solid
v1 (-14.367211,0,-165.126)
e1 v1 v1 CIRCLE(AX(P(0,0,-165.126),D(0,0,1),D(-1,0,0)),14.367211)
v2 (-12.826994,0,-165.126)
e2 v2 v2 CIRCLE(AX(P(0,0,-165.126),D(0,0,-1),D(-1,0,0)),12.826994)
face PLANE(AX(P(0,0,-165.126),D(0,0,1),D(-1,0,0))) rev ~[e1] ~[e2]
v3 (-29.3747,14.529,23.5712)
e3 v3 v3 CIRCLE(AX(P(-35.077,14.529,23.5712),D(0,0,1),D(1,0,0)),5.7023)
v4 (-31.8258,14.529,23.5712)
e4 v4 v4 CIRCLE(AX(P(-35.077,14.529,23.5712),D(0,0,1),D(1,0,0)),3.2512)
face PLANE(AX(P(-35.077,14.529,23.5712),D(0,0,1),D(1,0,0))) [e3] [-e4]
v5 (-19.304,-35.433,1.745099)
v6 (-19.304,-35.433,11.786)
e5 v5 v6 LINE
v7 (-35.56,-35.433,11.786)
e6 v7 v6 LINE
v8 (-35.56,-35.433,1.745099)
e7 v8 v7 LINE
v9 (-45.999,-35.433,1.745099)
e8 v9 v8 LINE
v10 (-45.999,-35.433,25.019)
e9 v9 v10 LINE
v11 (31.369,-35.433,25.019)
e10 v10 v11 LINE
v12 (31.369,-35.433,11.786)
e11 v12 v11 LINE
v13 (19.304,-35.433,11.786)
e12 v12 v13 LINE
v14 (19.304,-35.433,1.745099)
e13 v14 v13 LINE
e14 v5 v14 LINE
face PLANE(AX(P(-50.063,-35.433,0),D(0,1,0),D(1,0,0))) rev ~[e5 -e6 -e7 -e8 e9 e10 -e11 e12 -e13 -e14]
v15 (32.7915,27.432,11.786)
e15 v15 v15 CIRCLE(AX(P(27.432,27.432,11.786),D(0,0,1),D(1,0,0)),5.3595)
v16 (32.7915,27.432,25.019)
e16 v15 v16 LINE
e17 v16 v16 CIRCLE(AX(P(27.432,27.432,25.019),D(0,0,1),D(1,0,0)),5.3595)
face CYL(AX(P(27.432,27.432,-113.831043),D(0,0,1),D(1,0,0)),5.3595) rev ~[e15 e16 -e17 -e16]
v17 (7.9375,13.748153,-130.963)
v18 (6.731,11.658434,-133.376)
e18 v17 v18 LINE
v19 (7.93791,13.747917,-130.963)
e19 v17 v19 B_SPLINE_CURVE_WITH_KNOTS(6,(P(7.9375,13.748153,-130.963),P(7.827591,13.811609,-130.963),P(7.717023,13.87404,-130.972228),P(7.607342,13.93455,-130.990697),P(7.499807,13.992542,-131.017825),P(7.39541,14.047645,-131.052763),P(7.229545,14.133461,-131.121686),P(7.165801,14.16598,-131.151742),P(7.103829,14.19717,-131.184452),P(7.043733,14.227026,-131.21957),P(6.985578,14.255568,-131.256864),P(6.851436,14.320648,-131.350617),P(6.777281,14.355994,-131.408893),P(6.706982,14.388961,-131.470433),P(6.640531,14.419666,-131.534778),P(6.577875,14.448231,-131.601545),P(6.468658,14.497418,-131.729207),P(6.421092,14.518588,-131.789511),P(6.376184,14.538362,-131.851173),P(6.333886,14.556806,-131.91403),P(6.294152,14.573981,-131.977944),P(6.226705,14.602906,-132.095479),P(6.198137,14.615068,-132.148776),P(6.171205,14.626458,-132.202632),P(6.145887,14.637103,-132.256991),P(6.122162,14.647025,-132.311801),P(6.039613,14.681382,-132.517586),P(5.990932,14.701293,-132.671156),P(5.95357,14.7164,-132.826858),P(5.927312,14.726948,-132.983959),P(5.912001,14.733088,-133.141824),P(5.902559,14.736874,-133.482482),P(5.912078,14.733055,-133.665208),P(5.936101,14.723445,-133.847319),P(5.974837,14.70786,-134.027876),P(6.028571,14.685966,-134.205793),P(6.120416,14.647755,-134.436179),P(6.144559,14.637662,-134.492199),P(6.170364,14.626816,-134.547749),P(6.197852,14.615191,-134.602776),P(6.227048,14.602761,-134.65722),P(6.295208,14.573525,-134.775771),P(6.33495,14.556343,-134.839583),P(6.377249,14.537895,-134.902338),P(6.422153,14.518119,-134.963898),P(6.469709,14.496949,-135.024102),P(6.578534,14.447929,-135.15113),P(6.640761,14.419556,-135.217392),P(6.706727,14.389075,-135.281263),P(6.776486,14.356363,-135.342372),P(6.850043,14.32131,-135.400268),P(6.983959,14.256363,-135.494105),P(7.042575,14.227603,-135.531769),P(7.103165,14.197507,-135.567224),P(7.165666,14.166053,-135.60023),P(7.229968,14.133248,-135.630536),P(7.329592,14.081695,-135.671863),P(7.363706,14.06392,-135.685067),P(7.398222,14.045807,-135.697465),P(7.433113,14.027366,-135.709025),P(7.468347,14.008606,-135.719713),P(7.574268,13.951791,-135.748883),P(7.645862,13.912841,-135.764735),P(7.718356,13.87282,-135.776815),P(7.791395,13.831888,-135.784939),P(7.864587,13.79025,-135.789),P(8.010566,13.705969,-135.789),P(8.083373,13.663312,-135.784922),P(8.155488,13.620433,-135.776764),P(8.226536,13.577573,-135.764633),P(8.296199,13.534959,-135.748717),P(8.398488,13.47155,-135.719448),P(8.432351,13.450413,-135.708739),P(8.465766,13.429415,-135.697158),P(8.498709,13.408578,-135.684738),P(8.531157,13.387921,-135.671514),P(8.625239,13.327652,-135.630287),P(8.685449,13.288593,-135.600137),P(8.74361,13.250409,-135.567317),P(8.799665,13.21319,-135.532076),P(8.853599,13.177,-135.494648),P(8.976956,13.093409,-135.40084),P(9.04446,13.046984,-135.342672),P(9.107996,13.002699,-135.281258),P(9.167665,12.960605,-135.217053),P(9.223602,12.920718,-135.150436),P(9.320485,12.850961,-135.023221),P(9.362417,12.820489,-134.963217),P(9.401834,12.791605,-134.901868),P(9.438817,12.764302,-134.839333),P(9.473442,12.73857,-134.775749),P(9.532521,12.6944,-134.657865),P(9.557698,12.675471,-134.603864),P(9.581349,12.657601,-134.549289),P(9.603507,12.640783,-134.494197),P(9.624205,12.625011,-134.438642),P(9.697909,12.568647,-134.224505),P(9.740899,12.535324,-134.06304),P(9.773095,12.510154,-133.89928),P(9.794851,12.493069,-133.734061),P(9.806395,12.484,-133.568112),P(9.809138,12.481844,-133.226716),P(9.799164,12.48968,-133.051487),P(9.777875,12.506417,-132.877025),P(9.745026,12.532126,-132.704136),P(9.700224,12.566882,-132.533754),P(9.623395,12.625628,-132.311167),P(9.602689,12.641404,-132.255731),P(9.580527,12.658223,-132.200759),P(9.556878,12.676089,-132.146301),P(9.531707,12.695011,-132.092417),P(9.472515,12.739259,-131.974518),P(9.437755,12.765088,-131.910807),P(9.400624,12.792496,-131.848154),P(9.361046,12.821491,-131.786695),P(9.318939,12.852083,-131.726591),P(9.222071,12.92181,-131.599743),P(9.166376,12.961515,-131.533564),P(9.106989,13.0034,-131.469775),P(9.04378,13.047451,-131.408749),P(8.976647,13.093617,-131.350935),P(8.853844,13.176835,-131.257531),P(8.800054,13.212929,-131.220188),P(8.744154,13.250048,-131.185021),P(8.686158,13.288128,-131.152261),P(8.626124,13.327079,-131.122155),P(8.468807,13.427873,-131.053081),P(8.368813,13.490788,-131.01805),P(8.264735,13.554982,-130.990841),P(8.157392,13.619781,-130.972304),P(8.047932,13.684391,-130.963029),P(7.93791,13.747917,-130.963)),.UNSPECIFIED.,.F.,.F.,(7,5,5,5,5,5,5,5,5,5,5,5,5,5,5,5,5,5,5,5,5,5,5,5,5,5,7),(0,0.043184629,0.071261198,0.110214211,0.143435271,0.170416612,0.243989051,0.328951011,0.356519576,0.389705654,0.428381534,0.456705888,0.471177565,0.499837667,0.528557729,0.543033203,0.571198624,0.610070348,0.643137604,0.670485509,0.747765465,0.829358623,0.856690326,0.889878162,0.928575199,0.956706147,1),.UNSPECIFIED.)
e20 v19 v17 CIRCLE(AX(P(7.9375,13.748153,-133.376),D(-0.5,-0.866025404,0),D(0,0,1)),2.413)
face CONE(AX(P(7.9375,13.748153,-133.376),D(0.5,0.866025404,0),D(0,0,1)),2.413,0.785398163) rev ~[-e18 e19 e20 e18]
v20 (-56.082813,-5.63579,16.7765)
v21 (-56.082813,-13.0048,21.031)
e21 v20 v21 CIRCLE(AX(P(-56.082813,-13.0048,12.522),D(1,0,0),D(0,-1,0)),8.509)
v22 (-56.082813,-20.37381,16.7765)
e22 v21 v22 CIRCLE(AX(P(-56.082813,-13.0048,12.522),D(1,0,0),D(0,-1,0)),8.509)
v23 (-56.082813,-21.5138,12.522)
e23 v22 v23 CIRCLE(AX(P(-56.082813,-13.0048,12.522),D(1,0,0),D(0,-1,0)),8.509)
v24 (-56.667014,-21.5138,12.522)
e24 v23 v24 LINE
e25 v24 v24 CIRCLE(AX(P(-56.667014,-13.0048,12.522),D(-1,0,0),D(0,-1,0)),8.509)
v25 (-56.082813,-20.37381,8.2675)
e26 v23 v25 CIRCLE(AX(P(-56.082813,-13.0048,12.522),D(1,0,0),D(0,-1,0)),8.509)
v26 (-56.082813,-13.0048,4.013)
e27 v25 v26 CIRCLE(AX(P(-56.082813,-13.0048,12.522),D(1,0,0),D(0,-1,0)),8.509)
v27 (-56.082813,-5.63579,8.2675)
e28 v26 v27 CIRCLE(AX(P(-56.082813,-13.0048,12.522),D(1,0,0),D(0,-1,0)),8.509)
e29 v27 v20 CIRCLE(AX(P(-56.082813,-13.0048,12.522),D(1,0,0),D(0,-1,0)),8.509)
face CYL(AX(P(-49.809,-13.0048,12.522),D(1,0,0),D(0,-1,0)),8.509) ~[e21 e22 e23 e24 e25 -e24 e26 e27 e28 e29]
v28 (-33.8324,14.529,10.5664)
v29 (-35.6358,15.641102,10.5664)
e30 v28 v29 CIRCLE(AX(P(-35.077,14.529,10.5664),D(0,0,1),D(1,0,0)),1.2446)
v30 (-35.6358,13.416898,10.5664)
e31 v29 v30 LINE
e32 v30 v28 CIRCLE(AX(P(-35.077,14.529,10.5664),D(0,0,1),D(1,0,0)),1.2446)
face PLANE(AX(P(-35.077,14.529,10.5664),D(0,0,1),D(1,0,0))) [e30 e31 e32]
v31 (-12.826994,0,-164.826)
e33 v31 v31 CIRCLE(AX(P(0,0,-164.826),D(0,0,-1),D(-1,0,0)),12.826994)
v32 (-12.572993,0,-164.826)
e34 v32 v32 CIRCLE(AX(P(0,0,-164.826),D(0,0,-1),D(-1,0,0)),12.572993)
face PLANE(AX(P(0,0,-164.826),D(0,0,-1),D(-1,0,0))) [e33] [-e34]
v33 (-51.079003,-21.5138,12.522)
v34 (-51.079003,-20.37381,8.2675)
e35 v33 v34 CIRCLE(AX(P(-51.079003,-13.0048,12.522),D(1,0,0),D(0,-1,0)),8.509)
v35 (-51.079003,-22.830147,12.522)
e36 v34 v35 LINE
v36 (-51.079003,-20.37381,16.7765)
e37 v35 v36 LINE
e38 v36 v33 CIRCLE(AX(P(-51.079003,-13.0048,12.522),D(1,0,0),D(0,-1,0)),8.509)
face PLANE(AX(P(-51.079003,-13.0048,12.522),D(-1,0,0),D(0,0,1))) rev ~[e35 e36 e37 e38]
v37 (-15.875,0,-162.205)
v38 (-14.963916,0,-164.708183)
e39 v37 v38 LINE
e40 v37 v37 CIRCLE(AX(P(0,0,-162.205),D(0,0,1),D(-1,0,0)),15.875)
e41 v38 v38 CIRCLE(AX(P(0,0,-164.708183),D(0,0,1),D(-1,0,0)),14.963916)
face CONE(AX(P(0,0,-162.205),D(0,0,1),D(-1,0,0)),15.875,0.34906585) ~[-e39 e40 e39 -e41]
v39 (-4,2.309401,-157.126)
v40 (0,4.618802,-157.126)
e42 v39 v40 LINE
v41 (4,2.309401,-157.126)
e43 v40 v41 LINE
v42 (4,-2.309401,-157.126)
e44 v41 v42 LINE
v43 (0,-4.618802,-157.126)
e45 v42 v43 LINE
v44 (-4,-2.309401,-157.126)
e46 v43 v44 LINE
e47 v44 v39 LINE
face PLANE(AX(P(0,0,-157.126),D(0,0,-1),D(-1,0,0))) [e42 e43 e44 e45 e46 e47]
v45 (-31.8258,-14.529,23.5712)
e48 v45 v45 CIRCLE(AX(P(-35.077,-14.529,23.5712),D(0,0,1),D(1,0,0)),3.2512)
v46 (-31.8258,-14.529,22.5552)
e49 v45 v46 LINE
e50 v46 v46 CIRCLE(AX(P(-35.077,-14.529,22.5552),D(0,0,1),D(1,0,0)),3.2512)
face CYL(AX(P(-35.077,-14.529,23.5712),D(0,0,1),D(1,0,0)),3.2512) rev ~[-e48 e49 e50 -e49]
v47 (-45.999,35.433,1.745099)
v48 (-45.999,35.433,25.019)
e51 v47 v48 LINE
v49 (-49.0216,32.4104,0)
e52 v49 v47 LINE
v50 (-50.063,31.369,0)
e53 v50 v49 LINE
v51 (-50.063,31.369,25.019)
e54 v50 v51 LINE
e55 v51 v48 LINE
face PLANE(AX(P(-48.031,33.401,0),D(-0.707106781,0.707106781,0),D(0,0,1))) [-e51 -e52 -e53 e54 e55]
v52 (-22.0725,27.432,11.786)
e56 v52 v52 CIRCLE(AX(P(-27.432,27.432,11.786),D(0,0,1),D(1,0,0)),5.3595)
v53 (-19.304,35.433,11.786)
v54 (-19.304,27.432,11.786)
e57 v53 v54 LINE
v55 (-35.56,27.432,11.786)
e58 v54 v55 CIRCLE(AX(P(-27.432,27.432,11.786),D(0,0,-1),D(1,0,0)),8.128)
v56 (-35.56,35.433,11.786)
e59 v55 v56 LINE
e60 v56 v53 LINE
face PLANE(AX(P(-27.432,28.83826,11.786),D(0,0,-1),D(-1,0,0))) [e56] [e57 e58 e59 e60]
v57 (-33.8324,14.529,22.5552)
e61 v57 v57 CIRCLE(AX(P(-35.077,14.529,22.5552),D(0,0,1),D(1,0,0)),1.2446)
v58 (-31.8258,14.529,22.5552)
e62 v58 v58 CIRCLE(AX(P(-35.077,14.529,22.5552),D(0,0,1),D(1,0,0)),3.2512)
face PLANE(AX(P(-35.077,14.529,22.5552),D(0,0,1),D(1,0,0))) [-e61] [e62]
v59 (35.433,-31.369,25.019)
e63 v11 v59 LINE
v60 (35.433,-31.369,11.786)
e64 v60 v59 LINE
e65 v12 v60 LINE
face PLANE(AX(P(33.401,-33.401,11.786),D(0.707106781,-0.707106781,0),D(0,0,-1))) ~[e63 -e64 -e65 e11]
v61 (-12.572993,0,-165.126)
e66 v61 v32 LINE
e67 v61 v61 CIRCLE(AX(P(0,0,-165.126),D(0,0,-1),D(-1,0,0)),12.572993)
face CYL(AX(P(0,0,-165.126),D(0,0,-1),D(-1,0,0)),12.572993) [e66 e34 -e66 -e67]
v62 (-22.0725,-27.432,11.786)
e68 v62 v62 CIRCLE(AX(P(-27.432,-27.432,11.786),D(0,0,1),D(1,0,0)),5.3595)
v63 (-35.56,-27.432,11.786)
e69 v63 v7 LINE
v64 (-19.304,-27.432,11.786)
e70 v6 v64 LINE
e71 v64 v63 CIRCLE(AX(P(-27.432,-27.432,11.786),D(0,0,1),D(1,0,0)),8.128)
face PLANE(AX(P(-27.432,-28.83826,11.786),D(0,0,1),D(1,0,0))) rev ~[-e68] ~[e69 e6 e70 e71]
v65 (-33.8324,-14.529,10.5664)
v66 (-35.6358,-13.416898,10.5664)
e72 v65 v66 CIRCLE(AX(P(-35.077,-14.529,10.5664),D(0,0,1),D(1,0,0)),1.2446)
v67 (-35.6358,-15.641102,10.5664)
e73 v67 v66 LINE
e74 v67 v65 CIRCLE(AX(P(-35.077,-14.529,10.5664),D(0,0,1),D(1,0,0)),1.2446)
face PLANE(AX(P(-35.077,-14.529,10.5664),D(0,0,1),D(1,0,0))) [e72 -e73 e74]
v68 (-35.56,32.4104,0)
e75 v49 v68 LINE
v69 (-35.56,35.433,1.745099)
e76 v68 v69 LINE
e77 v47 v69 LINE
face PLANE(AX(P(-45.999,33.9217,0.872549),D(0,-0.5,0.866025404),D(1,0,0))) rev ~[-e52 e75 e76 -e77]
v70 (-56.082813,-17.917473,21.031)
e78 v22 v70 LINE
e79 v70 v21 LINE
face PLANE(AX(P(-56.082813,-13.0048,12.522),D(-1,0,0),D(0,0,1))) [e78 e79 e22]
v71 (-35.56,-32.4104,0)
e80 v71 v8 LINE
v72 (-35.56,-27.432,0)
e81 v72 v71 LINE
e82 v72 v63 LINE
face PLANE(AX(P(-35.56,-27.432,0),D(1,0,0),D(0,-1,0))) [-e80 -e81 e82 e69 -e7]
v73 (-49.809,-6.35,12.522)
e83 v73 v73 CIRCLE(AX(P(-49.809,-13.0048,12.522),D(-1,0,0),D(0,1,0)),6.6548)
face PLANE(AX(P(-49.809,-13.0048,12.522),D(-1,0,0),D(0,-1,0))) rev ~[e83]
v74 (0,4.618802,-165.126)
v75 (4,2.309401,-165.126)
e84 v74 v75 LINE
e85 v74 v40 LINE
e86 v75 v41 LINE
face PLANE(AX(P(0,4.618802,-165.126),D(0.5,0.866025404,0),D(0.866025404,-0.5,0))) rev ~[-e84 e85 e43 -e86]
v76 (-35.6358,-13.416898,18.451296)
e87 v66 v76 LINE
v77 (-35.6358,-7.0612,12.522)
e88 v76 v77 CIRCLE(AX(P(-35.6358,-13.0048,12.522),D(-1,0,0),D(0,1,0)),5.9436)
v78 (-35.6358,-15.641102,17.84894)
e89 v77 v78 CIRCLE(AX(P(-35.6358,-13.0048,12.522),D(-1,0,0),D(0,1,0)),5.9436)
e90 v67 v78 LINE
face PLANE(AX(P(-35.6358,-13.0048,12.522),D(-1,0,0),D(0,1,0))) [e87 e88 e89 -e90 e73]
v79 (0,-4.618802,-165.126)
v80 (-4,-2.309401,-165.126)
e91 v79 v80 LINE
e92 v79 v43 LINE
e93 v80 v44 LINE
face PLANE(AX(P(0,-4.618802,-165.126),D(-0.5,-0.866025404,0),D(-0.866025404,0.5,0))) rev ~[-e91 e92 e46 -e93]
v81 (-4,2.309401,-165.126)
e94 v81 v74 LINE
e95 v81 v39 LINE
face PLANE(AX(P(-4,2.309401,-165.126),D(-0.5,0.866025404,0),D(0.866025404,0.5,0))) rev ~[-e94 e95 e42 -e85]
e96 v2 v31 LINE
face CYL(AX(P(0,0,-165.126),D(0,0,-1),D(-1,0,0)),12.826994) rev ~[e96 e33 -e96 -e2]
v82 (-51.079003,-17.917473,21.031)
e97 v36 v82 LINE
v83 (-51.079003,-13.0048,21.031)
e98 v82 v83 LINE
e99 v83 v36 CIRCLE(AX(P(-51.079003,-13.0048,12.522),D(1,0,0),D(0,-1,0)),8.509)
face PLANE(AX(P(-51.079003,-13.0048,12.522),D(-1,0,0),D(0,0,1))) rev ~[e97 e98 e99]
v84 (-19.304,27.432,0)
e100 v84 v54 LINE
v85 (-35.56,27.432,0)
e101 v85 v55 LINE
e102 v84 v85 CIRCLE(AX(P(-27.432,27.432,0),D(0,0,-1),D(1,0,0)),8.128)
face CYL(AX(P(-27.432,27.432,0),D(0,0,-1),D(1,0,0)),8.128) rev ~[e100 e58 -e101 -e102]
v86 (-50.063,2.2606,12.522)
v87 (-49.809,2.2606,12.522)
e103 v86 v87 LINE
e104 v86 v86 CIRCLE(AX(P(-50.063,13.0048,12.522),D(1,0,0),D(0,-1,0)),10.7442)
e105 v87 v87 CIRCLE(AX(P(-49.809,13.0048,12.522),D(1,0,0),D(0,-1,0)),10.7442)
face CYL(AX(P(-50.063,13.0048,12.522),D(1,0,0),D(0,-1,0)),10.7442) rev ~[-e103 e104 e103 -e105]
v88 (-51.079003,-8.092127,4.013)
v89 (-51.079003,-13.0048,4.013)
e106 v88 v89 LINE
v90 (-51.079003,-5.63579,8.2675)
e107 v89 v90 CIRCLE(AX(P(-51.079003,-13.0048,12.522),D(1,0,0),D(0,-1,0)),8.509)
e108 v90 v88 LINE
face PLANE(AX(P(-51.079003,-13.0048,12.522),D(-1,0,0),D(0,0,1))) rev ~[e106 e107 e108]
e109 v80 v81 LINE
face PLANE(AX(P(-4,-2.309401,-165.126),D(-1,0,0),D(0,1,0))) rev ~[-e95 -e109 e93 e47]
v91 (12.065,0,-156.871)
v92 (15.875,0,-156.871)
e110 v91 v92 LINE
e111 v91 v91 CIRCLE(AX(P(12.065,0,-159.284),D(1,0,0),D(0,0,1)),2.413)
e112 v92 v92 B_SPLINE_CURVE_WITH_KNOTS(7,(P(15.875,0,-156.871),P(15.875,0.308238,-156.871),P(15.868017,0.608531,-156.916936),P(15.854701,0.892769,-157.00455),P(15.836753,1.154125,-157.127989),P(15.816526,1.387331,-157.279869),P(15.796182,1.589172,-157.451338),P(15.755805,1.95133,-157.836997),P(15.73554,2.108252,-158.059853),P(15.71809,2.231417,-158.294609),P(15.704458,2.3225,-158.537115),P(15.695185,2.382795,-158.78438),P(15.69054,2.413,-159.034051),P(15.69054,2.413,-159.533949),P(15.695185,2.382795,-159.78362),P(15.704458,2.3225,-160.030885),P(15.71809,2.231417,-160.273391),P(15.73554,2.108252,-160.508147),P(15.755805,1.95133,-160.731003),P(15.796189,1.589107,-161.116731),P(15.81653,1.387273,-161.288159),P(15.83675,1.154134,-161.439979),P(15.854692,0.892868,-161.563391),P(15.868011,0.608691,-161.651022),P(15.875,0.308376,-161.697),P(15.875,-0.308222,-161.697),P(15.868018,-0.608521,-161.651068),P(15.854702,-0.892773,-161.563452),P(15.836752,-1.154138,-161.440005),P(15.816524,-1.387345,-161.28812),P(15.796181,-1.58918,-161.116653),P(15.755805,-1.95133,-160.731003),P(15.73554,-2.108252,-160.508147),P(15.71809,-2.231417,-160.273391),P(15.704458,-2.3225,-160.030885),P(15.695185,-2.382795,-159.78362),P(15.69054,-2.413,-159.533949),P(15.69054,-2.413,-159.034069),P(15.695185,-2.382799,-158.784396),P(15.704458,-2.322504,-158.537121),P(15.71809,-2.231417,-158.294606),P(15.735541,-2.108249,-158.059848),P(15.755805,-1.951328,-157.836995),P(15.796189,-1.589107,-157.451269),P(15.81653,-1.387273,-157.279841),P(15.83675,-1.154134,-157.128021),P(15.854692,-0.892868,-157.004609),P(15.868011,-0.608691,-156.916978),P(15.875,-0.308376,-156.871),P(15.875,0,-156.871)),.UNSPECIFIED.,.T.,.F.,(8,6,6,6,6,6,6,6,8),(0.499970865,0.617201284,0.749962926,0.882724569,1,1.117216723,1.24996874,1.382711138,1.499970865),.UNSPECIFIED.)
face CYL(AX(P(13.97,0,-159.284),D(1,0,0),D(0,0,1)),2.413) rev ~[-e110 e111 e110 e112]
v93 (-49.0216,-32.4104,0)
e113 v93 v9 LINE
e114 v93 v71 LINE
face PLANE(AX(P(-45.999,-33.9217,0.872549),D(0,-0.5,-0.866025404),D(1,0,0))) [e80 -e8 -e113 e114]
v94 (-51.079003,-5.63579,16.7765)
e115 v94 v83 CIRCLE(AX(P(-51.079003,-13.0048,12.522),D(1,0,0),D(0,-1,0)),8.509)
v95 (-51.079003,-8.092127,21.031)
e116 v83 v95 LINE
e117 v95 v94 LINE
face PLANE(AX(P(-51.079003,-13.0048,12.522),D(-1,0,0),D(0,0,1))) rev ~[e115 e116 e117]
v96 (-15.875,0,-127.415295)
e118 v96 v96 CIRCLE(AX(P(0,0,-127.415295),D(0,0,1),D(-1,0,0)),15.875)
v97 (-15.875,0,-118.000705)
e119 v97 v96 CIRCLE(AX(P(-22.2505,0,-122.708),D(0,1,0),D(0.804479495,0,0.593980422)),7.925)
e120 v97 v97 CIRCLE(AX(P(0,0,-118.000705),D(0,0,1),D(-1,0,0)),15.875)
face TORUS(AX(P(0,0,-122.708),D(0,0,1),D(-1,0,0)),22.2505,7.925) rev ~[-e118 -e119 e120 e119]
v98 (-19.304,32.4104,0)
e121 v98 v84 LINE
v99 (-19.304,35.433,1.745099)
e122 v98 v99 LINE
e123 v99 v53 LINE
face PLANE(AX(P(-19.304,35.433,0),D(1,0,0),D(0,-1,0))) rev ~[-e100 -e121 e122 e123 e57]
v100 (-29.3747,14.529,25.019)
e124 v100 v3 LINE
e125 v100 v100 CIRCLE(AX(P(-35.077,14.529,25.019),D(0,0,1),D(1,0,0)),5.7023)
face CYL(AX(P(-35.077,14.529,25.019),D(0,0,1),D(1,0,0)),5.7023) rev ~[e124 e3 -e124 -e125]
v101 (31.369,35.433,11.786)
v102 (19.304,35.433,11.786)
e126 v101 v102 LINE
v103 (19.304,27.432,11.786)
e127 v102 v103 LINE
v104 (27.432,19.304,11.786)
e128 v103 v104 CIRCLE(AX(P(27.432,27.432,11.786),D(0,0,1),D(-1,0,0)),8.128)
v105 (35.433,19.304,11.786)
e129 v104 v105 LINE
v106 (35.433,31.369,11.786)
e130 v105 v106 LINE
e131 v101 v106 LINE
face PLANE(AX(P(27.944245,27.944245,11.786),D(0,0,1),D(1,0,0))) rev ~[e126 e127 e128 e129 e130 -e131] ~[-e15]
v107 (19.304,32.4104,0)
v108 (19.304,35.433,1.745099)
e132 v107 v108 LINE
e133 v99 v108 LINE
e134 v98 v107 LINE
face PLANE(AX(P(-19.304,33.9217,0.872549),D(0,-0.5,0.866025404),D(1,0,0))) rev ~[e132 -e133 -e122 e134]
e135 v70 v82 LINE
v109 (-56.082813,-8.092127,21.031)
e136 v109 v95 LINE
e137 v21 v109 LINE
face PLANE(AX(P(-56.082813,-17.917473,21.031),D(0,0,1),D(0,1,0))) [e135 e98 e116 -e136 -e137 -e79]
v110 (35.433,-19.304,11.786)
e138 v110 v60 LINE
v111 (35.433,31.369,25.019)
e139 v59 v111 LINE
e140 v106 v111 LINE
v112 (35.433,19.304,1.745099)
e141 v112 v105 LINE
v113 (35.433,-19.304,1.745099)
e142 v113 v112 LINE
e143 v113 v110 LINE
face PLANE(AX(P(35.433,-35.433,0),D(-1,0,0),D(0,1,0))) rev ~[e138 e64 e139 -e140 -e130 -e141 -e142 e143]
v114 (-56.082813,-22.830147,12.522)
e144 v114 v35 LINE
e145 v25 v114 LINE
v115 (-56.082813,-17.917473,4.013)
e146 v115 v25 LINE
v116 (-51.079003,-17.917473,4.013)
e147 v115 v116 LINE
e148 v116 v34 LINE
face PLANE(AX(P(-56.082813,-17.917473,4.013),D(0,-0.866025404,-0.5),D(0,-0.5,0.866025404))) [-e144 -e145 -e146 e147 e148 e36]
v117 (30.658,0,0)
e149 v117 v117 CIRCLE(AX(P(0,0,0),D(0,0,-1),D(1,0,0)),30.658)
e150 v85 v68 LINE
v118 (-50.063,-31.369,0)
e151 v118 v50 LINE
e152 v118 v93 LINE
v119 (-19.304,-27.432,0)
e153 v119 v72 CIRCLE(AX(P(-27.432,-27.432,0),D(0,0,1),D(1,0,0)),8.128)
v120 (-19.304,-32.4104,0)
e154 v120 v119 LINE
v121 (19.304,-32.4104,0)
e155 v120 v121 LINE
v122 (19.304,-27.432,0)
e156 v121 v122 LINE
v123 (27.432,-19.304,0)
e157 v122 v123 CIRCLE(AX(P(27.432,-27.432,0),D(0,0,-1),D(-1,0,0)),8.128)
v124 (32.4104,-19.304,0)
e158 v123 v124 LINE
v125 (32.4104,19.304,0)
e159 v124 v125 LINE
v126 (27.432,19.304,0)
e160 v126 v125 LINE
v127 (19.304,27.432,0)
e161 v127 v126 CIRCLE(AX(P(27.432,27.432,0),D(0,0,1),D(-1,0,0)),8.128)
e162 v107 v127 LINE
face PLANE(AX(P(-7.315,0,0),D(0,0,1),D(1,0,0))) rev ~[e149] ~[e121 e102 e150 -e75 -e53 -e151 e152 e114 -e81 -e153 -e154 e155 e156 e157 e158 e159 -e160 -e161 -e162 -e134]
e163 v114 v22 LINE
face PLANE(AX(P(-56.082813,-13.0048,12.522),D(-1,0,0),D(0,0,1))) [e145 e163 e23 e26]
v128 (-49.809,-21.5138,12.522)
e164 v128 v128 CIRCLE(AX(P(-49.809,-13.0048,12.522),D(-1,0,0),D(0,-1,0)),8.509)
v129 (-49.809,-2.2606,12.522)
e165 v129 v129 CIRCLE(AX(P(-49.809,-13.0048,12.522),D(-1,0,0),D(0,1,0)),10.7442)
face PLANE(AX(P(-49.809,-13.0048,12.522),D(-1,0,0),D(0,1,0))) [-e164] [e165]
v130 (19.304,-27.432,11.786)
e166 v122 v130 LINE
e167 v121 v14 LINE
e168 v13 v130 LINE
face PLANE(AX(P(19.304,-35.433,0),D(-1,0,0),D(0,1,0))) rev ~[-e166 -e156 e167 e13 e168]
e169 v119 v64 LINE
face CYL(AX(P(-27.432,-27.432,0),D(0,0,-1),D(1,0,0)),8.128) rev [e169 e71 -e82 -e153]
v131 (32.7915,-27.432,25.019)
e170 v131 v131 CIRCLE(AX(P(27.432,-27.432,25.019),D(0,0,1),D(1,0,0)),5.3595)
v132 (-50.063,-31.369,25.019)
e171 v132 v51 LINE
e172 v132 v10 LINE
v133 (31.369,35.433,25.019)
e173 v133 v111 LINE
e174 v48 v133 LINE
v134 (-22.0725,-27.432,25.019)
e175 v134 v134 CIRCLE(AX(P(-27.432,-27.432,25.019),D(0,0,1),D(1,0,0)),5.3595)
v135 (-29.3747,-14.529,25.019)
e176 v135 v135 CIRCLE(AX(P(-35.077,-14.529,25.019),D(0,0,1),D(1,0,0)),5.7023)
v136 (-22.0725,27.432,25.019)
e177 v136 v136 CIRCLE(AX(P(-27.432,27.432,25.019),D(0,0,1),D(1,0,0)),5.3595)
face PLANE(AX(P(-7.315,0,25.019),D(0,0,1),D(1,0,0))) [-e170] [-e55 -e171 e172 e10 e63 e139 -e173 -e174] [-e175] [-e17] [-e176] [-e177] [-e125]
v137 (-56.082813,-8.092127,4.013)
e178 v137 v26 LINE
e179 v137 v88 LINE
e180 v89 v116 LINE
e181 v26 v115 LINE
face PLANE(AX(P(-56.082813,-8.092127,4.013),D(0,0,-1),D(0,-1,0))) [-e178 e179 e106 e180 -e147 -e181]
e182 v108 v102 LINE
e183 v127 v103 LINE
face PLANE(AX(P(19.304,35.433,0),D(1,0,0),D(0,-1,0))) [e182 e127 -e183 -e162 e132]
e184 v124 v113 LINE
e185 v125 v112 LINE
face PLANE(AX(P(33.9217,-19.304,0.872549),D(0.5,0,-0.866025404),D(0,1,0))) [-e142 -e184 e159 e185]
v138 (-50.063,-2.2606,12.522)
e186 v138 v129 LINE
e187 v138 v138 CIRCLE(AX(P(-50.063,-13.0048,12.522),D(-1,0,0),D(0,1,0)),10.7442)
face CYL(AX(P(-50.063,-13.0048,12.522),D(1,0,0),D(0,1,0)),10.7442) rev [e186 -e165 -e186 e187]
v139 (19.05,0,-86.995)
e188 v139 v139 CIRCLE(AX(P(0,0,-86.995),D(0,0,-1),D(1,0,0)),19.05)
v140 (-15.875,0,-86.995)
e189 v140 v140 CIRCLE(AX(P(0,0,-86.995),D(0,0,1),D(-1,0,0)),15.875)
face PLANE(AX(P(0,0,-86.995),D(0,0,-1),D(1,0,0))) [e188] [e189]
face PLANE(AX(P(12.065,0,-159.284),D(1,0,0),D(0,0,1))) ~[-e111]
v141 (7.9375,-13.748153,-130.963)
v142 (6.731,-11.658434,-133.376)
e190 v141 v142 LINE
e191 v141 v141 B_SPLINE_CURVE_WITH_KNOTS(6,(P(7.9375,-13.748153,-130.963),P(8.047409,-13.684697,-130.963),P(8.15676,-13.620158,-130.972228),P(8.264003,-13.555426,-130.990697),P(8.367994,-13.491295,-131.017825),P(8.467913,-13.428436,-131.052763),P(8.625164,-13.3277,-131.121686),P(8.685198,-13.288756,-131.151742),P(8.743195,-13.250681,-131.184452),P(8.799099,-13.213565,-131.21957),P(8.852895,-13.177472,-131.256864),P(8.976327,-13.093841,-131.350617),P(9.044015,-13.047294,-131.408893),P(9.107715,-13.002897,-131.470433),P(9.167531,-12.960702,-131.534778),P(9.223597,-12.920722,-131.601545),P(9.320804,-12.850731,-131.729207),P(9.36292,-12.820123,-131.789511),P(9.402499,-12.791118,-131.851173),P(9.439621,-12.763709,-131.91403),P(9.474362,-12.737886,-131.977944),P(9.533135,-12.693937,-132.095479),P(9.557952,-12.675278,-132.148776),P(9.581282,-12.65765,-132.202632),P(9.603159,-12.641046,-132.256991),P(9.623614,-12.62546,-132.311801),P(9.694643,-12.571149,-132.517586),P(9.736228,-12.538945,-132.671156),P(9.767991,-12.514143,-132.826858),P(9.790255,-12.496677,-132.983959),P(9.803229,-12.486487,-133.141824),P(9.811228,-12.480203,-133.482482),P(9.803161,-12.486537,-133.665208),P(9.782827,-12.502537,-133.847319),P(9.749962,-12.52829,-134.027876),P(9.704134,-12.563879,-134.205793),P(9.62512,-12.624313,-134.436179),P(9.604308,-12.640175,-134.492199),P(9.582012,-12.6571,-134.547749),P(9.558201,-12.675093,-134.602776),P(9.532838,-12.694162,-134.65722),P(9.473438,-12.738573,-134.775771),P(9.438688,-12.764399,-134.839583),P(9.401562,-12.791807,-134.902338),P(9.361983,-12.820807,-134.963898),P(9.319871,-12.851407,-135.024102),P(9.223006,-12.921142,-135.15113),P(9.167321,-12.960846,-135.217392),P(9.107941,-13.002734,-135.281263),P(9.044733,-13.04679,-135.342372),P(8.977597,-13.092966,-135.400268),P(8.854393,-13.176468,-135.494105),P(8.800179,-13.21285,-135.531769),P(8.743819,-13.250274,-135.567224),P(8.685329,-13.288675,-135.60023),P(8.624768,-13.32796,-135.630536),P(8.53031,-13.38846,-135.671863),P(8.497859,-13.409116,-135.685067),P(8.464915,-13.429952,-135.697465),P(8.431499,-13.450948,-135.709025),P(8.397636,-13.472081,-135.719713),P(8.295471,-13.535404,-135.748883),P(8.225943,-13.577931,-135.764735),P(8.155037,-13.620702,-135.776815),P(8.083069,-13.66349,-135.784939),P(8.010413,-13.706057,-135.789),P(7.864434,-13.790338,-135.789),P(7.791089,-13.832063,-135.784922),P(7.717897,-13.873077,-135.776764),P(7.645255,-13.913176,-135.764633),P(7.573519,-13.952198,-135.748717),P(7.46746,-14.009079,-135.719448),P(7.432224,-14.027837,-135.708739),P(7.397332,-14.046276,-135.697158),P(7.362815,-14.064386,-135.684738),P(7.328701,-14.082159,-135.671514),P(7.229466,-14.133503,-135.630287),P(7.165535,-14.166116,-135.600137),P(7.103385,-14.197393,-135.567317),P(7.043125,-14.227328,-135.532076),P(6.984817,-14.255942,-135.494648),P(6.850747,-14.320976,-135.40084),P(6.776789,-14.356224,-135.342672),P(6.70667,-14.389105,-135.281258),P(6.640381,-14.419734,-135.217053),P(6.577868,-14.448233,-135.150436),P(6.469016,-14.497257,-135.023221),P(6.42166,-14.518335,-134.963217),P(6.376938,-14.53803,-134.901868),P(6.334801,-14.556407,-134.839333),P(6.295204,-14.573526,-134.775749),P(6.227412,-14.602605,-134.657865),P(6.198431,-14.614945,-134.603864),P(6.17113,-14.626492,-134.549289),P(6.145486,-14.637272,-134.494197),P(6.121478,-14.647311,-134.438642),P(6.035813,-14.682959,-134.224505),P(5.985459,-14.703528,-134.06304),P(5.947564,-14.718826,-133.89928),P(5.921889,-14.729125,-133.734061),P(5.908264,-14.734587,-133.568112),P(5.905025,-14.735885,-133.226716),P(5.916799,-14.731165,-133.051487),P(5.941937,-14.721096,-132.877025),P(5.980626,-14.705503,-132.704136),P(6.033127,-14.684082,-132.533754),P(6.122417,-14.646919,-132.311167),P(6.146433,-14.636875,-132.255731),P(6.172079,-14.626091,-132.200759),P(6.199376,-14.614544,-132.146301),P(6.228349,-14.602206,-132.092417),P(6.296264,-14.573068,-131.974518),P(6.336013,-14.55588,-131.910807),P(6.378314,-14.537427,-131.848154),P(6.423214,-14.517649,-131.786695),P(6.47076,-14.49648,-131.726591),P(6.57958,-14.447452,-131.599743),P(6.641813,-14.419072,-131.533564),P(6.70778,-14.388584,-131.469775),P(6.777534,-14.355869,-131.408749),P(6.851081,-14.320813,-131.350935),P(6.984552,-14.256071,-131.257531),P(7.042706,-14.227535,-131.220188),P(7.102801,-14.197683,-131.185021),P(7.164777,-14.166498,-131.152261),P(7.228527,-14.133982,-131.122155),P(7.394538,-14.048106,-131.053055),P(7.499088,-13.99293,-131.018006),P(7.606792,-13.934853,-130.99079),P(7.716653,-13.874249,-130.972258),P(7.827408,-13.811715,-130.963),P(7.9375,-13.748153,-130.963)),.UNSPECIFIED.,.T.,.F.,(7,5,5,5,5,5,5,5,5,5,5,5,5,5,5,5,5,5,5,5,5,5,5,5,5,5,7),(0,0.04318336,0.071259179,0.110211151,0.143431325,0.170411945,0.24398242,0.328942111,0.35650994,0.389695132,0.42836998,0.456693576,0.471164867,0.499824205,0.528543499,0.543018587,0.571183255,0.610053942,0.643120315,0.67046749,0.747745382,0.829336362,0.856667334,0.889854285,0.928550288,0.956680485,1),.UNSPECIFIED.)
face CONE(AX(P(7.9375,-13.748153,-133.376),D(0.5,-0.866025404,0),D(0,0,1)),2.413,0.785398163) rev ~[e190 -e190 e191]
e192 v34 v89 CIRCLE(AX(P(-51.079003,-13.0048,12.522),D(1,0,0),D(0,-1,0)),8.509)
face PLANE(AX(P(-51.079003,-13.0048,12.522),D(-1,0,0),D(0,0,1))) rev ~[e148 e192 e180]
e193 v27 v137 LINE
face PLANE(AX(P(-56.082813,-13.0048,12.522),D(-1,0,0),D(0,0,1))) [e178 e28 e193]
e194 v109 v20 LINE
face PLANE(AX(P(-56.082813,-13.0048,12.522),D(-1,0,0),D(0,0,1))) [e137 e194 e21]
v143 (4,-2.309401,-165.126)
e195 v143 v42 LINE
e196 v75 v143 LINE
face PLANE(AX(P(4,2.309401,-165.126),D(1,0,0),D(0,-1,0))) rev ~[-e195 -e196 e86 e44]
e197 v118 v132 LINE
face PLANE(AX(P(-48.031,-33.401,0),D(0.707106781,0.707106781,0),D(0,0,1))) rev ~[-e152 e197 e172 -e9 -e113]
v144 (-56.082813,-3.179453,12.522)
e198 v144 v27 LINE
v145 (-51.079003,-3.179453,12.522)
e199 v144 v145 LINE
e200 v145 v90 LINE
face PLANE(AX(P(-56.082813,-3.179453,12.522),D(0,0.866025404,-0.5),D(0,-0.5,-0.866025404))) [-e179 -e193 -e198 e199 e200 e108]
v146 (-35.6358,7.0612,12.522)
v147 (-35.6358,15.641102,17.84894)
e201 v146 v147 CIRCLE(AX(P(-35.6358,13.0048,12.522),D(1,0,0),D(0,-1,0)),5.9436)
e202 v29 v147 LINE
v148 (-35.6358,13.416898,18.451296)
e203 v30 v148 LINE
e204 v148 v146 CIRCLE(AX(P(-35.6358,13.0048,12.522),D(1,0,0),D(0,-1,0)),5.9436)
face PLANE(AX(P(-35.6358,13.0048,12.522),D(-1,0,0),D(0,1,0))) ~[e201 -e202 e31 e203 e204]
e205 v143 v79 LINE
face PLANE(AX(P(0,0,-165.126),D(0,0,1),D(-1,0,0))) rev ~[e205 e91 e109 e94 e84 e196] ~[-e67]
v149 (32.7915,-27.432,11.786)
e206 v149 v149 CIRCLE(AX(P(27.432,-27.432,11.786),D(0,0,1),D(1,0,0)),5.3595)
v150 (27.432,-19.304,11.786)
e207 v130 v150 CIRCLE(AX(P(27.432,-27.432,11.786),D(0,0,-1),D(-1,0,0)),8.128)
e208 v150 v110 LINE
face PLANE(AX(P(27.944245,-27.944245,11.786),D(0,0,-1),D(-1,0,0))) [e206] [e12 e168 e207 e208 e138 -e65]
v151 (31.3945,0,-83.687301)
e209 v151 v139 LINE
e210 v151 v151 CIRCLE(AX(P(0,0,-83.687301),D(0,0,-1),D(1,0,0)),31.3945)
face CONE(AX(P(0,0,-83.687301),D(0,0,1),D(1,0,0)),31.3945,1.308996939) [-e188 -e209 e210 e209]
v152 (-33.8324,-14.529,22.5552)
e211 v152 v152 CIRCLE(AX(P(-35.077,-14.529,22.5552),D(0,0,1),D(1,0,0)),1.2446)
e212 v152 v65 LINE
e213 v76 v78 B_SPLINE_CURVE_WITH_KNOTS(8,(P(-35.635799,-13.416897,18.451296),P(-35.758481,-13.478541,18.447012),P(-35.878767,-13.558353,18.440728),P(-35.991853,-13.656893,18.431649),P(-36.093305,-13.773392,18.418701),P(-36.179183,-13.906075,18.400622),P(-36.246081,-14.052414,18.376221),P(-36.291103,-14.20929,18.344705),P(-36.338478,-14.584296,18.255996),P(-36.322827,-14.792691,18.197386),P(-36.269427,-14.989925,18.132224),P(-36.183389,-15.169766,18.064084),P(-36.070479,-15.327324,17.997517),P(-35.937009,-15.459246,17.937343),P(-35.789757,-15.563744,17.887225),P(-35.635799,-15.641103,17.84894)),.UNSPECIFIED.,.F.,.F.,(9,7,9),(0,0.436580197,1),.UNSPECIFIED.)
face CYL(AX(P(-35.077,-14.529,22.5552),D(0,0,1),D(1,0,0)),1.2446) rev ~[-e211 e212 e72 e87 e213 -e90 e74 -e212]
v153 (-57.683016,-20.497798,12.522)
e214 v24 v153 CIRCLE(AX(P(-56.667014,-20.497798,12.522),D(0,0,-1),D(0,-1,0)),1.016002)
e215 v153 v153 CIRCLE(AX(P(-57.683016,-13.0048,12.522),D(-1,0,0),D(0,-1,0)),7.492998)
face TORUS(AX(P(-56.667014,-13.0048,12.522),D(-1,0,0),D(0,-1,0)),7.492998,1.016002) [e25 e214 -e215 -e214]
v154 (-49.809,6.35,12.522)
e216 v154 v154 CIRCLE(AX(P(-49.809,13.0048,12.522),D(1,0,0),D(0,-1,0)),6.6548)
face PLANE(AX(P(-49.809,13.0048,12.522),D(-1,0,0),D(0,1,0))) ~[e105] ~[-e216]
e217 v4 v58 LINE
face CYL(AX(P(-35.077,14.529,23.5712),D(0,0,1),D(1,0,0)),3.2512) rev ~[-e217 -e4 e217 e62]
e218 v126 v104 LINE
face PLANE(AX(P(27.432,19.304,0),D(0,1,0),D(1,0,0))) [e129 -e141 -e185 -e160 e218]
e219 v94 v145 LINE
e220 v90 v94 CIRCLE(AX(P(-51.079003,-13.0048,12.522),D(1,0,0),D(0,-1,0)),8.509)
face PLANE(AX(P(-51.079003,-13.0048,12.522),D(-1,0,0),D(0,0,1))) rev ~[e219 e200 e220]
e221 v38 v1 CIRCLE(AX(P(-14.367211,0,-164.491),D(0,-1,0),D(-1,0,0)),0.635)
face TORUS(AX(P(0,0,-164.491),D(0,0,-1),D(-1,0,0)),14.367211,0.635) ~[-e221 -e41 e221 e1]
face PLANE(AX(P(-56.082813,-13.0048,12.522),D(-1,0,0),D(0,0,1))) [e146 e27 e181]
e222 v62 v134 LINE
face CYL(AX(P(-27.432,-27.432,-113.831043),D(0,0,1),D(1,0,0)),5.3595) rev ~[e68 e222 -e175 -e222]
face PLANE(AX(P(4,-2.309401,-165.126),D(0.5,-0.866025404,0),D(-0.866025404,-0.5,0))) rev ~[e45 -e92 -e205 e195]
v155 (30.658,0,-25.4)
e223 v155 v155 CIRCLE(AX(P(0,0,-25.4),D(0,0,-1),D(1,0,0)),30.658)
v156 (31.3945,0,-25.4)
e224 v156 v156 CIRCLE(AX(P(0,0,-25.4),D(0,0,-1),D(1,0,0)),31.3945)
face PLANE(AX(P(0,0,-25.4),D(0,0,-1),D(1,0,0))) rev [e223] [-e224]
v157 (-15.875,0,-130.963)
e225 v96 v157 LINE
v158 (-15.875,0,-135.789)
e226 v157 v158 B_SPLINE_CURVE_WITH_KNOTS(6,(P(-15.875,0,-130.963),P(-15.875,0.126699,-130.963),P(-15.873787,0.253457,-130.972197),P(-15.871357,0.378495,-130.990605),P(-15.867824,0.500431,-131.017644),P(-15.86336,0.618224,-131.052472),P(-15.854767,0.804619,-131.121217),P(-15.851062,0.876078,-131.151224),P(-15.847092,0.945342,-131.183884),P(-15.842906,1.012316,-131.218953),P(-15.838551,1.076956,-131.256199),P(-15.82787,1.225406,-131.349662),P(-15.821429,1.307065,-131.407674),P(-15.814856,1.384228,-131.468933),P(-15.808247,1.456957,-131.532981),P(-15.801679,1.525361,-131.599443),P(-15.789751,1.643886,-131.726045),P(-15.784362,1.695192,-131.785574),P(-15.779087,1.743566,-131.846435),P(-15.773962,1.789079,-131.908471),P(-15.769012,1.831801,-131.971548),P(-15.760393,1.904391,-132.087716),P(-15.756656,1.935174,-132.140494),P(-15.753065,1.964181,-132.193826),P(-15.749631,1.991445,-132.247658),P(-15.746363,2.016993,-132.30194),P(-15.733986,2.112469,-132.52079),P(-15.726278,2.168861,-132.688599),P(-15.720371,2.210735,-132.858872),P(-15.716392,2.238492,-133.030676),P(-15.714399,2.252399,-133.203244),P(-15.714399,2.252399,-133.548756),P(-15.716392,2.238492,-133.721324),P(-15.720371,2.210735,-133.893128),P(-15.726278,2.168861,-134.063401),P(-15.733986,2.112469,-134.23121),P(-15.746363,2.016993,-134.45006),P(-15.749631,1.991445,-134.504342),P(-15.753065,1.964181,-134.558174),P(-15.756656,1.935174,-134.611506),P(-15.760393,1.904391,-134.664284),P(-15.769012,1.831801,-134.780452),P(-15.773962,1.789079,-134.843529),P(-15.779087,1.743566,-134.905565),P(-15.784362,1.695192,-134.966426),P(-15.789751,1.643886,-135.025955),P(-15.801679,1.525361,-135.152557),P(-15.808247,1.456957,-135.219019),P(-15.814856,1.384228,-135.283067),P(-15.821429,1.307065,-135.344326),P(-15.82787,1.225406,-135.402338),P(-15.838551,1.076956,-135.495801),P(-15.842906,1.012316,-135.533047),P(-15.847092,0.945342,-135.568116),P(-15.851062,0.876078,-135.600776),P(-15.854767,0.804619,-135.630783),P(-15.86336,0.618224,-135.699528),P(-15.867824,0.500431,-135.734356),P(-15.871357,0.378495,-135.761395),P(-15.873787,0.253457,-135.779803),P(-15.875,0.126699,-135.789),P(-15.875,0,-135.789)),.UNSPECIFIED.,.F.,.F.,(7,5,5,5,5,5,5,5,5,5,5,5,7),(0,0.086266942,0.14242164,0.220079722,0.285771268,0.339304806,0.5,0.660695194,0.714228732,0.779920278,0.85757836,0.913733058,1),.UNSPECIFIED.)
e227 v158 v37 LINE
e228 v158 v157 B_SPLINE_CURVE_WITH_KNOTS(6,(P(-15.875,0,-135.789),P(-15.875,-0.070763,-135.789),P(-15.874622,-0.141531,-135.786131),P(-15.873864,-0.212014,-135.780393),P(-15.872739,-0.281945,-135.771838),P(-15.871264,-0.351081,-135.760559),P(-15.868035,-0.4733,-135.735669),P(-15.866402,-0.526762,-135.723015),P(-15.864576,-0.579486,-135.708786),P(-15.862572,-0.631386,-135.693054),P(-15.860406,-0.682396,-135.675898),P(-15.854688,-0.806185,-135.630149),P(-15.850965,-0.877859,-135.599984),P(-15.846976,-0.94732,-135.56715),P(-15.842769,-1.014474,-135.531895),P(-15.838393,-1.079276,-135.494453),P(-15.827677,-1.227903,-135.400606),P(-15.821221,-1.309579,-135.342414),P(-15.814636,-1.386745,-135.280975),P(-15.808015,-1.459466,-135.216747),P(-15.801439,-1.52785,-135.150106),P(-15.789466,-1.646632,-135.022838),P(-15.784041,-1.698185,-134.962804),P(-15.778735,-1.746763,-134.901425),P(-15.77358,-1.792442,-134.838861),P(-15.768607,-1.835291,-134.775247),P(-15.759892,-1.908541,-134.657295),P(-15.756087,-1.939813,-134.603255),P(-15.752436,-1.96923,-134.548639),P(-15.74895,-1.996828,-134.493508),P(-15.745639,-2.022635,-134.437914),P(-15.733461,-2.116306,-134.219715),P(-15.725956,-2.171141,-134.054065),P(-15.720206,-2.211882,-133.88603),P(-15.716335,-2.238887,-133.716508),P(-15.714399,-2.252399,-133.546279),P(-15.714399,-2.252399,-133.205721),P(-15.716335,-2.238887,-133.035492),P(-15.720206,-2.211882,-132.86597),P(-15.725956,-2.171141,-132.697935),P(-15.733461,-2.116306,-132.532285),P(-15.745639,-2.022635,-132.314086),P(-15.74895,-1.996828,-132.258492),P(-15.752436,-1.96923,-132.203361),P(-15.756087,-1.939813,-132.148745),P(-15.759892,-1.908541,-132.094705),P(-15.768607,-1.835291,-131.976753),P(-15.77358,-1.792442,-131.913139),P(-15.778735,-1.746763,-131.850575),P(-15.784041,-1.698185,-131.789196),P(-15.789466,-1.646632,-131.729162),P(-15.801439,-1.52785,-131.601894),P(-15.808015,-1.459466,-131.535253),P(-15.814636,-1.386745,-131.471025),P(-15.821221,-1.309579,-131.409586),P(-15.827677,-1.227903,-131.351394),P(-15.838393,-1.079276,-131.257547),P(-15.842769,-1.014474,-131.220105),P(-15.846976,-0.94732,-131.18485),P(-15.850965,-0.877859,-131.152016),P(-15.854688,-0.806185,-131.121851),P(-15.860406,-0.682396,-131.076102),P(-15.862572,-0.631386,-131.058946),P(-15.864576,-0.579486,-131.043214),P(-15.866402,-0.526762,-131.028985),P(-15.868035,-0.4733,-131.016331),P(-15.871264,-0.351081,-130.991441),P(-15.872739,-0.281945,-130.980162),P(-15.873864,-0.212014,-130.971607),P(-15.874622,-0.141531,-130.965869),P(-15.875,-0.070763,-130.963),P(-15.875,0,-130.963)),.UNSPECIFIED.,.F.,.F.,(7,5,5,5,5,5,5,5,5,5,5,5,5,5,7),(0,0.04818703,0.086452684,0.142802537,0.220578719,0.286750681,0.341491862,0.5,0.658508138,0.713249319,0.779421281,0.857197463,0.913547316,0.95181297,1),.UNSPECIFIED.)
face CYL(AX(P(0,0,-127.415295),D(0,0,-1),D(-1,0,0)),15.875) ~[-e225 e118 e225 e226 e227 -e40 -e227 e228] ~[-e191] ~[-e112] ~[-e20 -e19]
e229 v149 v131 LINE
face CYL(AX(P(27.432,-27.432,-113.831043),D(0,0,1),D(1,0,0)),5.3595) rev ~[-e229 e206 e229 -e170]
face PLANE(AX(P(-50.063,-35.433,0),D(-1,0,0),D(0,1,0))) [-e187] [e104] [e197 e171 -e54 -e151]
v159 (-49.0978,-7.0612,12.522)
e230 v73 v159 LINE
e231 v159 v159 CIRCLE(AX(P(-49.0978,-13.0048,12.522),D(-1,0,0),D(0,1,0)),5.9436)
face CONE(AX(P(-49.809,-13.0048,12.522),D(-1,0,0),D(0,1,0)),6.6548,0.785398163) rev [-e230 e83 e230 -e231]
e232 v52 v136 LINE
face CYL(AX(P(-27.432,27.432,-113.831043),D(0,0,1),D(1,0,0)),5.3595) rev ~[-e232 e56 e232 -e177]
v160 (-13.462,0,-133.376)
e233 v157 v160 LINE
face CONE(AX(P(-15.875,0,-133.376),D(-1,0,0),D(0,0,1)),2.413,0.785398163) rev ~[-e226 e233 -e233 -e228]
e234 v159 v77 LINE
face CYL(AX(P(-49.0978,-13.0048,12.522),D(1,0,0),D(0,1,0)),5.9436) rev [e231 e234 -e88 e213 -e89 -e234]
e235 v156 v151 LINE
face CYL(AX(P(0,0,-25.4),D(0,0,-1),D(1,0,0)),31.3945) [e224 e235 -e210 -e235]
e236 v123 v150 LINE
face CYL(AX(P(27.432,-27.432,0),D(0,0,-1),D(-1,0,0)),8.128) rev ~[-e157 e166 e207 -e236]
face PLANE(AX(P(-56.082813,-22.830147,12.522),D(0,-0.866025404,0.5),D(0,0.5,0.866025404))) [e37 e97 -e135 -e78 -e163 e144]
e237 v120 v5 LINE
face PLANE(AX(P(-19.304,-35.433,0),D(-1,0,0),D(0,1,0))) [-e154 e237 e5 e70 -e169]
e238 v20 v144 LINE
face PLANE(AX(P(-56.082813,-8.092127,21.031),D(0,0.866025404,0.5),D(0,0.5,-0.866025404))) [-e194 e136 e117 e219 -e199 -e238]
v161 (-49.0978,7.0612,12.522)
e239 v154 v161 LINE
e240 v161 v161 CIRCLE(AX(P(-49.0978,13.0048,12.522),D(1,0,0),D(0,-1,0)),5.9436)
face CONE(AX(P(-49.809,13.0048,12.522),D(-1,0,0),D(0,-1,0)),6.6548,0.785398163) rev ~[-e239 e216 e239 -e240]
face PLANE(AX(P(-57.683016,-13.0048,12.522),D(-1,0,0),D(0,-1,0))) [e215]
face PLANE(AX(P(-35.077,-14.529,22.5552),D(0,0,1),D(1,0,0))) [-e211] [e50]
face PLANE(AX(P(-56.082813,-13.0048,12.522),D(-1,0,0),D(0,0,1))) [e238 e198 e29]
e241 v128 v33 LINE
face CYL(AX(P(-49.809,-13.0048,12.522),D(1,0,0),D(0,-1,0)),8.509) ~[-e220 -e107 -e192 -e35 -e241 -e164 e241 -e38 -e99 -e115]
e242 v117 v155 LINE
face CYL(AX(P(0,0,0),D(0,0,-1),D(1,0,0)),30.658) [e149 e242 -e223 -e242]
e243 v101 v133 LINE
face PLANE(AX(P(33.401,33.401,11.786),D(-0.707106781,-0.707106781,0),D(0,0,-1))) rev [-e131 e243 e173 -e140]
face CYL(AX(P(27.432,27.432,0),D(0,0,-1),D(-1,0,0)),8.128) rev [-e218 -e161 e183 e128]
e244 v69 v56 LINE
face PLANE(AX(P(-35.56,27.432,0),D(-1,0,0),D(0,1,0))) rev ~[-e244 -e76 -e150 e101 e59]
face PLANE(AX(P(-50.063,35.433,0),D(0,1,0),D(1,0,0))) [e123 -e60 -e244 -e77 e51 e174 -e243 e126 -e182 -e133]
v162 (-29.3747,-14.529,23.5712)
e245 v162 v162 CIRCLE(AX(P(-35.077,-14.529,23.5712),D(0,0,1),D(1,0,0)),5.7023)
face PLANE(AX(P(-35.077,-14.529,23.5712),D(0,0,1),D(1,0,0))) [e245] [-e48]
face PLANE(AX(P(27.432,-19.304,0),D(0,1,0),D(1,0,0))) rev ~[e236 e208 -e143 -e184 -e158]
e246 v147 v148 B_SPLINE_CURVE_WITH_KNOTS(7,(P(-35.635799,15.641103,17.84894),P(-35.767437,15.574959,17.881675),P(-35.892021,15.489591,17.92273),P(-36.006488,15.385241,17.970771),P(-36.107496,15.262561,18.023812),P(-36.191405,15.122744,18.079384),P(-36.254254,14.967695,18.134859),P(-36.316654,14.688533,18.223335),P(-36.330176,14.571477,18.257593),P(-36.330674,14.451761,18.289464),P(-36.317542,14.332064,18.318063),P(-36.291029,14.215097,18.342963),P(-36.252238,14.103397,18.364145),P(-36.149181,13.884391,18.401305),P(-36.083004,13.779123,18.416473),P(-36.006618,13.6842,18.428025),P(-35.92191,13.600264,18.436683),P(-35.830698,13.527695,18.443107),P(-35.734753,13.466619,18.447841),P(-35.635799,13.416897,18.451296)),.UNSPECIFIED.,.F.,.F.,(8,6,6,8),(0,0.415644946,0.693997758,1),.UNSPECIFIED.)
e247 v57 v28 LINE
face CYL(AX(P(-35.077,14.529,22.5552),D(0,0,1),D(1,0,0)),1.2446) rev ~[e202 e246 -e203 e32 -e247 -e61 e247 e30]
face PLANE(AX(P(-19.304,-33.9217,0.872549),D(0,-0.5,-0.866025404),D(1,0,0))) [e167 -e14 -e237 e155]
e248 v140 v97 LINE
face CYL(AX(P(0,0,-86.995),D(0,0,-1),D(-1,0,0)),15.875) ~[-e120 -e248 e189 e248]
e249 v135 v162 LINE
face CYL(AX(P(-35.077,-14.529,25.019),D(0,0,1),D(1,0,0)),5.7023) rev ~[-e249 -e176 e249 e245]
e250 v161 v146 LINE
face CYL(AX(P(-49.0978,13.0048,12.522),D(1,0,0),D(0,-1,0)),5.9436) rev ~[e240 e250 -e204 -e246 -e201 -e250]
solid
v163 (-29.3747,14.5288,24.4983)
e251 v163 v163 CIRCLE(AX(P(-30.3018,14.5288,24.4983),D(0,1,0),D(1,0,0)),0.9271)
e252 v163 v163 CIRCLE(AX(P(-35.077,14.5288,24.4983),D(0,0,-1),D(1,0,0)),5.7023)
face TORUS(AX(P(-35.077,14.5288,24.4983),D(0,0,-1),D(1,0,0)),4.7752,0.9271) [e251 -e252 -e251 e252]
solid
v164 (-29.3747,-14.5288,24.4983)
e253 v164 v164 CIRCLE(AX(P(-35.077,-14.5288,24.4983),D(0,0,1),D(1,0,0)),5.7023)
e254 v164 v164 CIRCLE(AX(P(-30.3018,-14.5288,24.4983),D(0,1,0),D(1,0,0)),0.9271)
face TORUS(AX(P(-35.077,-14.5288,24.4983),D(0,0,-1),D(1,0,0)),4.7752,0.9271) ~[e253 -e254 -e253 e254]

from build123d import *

# Parameters (mm, degrees)
SKETCH1_W          = 85.496
SKETCH1_H          = 70.866
EXTRUDE1_DEPTH     = 25.019
HOLE1_D            = 10.719
CUT_EXTRUDE2_DEPTH = 11.786
SKETCH6_R          = 5.7023
CUT_EXTRUDE3_DEPTH = 1.4478
SKETCH7_R          = 3.2512
CUT_EXTRUDE4_DEPTH = 1.016
SKETCH8_R          = 1.2446
CUT_EXTRUDE5_DEPTH = 11.9888
SKETCH9_R          = 0.9271
CHAMFER1_SIZE      = 4.064
CHAMFER2_SIZE      = 3.0226
CHAMFER2_SIZE2     = 1.745098924
SKETCH26_R         = 8.509
EXTRUDE2_DEPTH     = 7.87401575
FILLET1_R          = 1.01600203
EXTRUDE3_START     = -1.6002032
EXTRUDE3_DEPTH     = 5.00381001
SKETCH28_R         = 12.8269939
SKETCH28_R_2       = 12.5729934
CUT_EXTRUDE6_DEPTH = 0.3
CUT_EXTRUDE7_DEPTH = 8
CIRPATTERN1_COUNT  = 3
SKETCH31_W         = 3.81
SKETCH31_H         = 2.413
FILLET2_R          = 0.635


with BuildPart() as part:
    # Sketch1 → Extrude1 (new body)
    with BuildSketch(Plane.XY):
        with Locations((-7.315, 0)):
            Rectangle(SKETCH1_W, SKETCH1_H)
    extrude(amount=EXTRUDE1_DEPTH)

    # Hole1 (through all)
    with Locations(Plane(origin=(0, 0, 0), x_dir=(-1, 0, 0), z_dir=(0, 0, -1))):
        with Locations((-27.432, -27.432), (-27.432, 27.432), (27.432, 27.432), (27.432, -27.432)):
            Hole(HOLE1_D / 2)

    # Sketch3 → Cut-Extrude2 (cut)
    with BuildSketch(Plane(origin=(0, 0, 0), x_dir=(-1, 0, 0), z_dir=(0, 0, -1))):
        with BuildLine():
            Line((-27.432, -19.304), (-35.433, -19.304))
            Line((-35.433, -19.304), (-35.433, -35.433))
            Line((-35.433, -35.433), (-19.304, -35.433))
            Line((-19.304, -35.433), (-19.304, -27.432))
            ThreePointArc((-19.304, -27.432), (-21.684636083, -21.684636083), (-27.432, -19.304))
        make_face()
        with BuildLine():
            Line((-35.433, 19.304), (-35.433, 35.433))
            Line((-35.433, 35.433), (-19.304, 35.433))
            Line((-19.304, 35.433), (-19.304, 27.432))
            ThreePointArc((-19.304, 27.432), (-21.684636083, 21.684636083), (-27.432, 19.304))
            Line((-27.432, 19.304), (-35.433, 19.304))
        make_face()
        with BuildLine():
            Line((19.304, 35.433), (19.304, 27.432))
            ThreePointArc((19.304, 27.432), (27.432, 19.304), (35.56, 27.432))
            Line((35.56, 27.432), (35.56, 35.433))
            Line((35.56, 35.433), (19.304, 35.433))
        make_face()
        with BuildLine():
            Line((35.56, -35.433), (19.304, -35.433))
            Line((19.304, -35.433), (19.304, -27.432))
            ThreePointArc((19.304, -27.432), (27.432, -19.304), (35.56, -27.432))
            Line((35.56, -27.432), (35.56, -35.433))
        make_face()
    extrude(amount=-CUT_EXTRUDE2_DEPTH, mode=Mode.SUBTRACT)

    # Sketch23 → Cut-Revolve5 (revolve, cut)
    with BuildSketch(Plane.XY.offset(12.522), mode=Mode.PRIVATE) as cut_revolve5_sk:
        Polygon((-50.063, -23.749), (-49.809, -23.749), (-49.809, -19.6596), (-49.0978, -18.9484), (-35.6358, -18.9484), (-35.6358, -13.0048), (-50.063, -13.0048), align=None)
    cut_revolve5 = revolve(cut_revolve5_sk.sketch.rotate(Axis((-11.939660979, -13.0048, 12.522), (-1, 0, 0)), 180), axis=Axis((-11.939660979, -13.0048, 12.522), (-1, 0, 0)), mode=Mode.SUBTRACT)  # turned: the seam where the file's is

    # Mirror1: Cut-Revolve5 across plane
    add(cut_revolve5.mirror(Plane.ZX), mode=Mode.SUBTRACT)

    # Sketch6 → Cut-Extrude3 (cut)
    with BuildSketch(Plane.XY.offset(25.019)):
        with Locations((-35.077, -14.529)):
            Circle(SKETCH6_R)
        with Locations((-35.077, 14.529)):
            Circle(SKETCH6_R)
    extrude(amount=-CUT_EXTRUDE3_DEPTH, mode=Mode.SUBTRACT)

    # Sketch7 → Cut-Extrude4 (cut)
    with BuildSketch(Plane.XY.offset(23.5712)):
        with Locations((-35.077, 14.529)):
            Circle(SKETCH7_R)
        with Locations((-35.077, -14.529)):
            Circle(SKETCH7_R)
    extrude(amount=-CUT_EXTRUDE4_DEPTH, mode=Mode.SUBTRACT)

    # Sketch8 → Cut-Extrude5 (cut)
    with BuildSketch(Plane.XY.offset(22.5552)):
        with Locations((-35.077, 14.529)):
            Circle(SKETCH8_R)
        with Locations((-35.077, -14.529)):
            Circle(SKETCH8_R)
    extrude(amount=-CUT_EXTRUDE5_DEPTH, mode=Mode.SUBTRACT)

    # Chamfer1
    chamfer1_edges = [part.edges().sort_by_distance(p)[0] for p in [
        (-50.063, 35.433, 12.5095),
        (35.433, 35.433, 18.4025),
        (35.433, -35.433, 18.4025),
        (-50.063, -35.433, 12.5095),
    ]]
    chamfer(chamfer1_edges, length=CHAMFER1_SIZE)

    # Chamfer2
    chamfer2_edges = [part.edges().sort_by_distance(p)[0] for p in [
        (-40.7795, -35.433, 0),
        (35.433, 0, 0),
        (0, 35.433, 0),
        (-40.7795, 35.433, 0),
        (0, -35.433, 0),
    ]]
    chamfer2_side = [part.faces().sort_by_distance(p)[0] for p in [
        (-8.721219411, 0, 0),
    ]]
    chamfer(chamfer2_edges, length=CHAMFER2_SIZE, length2=CHAMFER2_SIZE2, reference=chamfer2_side[0])

    # Sketch24 → Revolve4 (revolve)
    with BuildSketch(Plane(origin=(0, 0, 0), x_dir=(0, 0, -1), z_dir=(1, 0, 0)), mode=Mode.PRIVATE) as revolve4_sk:
        Polygon((0, 0), (0, 30.658), (25.4, 30.658), (25.4, 31.3945), (83.687301194, 31.3945), (86.995, 19.05), (86.995, 0), align=None)
    revolve(revolve4_sk.sketch.rotate(Axis((0, 0, 0), (0, 0, -1)), 90), axis=Axis((0, 0, 0), (0, 0, -1)))  # turned: the seam where the file's is

    # Sketch17 → Revolve3 (revolve)
    with BuildSketch(Plane(origin=(0, 0, 0), x_dir=(0, 0, -1), z_dir=(1, 0, 0)), mode=Mode.PRIVATE) as revolve3_sk:
        with BuildLine():
            Line((86.995, 0), (86.995, -15.875))
            Line((86.995, -15.875), (118.000705156, -15.875))
            ThreePointArc((118.000705156, -15.875), (122.708, -14.3255), (127.415294844, -15.875))
            Line((127.415294844, -15.875), (162.205, -15.875))
            Line((162.205, -15.875), (165.126, -14.811842946))
            Line((165.126, -14.811842946), (165.126, 0))
            Line((165.126, 0), (86.995, 0))
        make_face()
    revolve(revolve3_sk.sketch.rotate(Axis((0, 0, -130.8989), (0, 0, 1)), 270), axis=Axis((0, 0, -130.8989), (0, 0, 1)))  # turned: the seam where the file's is

    # Sketch26 → Extrude2 (add)
    with BuildSketch(Plane.ZY.offset(49.809)):
        with Locations(Location((12.522, -13.0048, 0), (0, 0, 270))):  # turned: the seam where the file's is
            Circle(SKETCH26_R)
    extrude(amount=EXTRUDE2_DEPTH)

    # Fillet1
    fillet1_edges = [part.edges().sort_by_distance(p)[0] for p in [
        (-57.68301575, -4.4958, 12.522),
    ]]
    fillet(fillet1_edges, radius=FILLET1_R)

    # Sketch27 → Extrude3 (add)
    with BuildSketch(Plane.ZY.offset(57.68301575).offset(EXTRUDE3_START)):
        Polygon((4.013, -8.092126559), (4.013, -17.917473441), (12.522, -22.830146881), (21.031, -17.917473441), (21.031, -8.092126559), (12.522, -3.179453119), align=None)
    extrude(amount=-EXTRUDE3_DEPTH)

    # Sketch28 → Cut-Extrude6 (cut)
    with BuildSketch(Plane(origin=(0, 0, -165.126), x_dir=(-1, 0, 0), z_dir=(0, 0, -1))):
        Circle(SKETCH28_R)
        Circle(SKETCH28_R_2, mode=Mode.SUBTRACT)
    extrude(amount=-CUT_EXTRUDE6_DEPTH, mode=Mode.SUBTRACT)

    # Sketch29 → Cut-Extrude7 (cut)
    with BuildSketch(Plane(origin=(0, 0, -165.126), x_dir=(-1, 0, 0), z_dir=(0, 0, -1))):
        Polygon((4, -2.309401077), (4, 2.309401077), (0, 4.618802154), (-4, 2.309401077), (-4, -2.309401077), (0, -4.618802154), align=None)
    extrude(amount=-CUT_EXTRUDE7_DEPTH, mode=Mode.SUBTRACT)

    # Sketch30 → Cut-Revolve6 (revolve, cut)
    with BuildSketch(Plane(origin=(0, 0, 0), x_dir=(1, 0, 0), z_dir=(0, 1, 0)), mode=Mode.PRIVATE) as cut_revolve6_sk:
        Polygon((-15.875, 135.789), (-13.462, 133.376), (-15.875, 133.376), align=None)
    cut_revolve6 = revolve(cut_revolve6_sk.sketch.rotate(Axis((-27.819320819, 0, -133.376), (1, 0, 0)), 180), axis=Axis((-27.819320819, 0, -133.376), (1, 0, 0)), mode=Mode.SUBTRACT)  # turned: the seam where the file's is

    # CirPattern1: Cut-Revolve6 ×3 about axis
    cirpattern1_axis = Axis((0, 0, -130.8989), (0, 0, -1))
    for i in range(1, CIRPATTERN1_COUNT):
        add(cut_revolve6.rotate(cirpattern1_axis, i * 360 / CIRPATTERN1_COUNT), mode=Mode.SUBTRACT)

    # Sketch31 → Cut-Revolve7 (revolve, cut)
    with BuildSketch(Plane(origin=(0, 0, 0), x_dir=(1, 0, 0), z_dir=(0, 1, 0)), mode=Mode.PRIVATE) as cut_revolve7_sk:
        with Locations((13.97, 160.4905)):
            Rectangle(SKETCH31_W, SKETCH31_H)
    revolve(cut_revolve7_sk.sketch.rotate(Axis((-9.187915639, 0, -159.284), (1, 0, 0)), 180), axis=Axis((-9.187915639, 0, -159.284), (1, 0, 0)), mode=Mode.SUBTRACT)  # turned: the seam where the file's is

    # Fillet2
    fillet2_edges = [part.edges().sort_by_distance(p)[0] for p in [
        (14.811842946, 0, -165.126),
    ]]
    fillet(fillet2_edges, radius=FILLET2_R)


with BuildPart() as body_2:
    # Sketch9 → Revolve1 (revolve)
    with BuildSketch(Plane(origin=(-41.656, 14.5288, 23.5712), x_dir=(1, 0, 0), z_dir=(0, 1, 0))):
        with Locations((11.3542, -0.9271)):
            Circle(SKETCH9_R)
    revolve(axis=Axis((-35.077, 14.5288, 25.51811), (0, 0, -1)))


with BuildPart() as body_3:
    # Mirror2: mirrored copy
    add(body_2.part.mirror(Plane.ZX))


solid = Compound([part.part, body_2.part, body_3.part])
